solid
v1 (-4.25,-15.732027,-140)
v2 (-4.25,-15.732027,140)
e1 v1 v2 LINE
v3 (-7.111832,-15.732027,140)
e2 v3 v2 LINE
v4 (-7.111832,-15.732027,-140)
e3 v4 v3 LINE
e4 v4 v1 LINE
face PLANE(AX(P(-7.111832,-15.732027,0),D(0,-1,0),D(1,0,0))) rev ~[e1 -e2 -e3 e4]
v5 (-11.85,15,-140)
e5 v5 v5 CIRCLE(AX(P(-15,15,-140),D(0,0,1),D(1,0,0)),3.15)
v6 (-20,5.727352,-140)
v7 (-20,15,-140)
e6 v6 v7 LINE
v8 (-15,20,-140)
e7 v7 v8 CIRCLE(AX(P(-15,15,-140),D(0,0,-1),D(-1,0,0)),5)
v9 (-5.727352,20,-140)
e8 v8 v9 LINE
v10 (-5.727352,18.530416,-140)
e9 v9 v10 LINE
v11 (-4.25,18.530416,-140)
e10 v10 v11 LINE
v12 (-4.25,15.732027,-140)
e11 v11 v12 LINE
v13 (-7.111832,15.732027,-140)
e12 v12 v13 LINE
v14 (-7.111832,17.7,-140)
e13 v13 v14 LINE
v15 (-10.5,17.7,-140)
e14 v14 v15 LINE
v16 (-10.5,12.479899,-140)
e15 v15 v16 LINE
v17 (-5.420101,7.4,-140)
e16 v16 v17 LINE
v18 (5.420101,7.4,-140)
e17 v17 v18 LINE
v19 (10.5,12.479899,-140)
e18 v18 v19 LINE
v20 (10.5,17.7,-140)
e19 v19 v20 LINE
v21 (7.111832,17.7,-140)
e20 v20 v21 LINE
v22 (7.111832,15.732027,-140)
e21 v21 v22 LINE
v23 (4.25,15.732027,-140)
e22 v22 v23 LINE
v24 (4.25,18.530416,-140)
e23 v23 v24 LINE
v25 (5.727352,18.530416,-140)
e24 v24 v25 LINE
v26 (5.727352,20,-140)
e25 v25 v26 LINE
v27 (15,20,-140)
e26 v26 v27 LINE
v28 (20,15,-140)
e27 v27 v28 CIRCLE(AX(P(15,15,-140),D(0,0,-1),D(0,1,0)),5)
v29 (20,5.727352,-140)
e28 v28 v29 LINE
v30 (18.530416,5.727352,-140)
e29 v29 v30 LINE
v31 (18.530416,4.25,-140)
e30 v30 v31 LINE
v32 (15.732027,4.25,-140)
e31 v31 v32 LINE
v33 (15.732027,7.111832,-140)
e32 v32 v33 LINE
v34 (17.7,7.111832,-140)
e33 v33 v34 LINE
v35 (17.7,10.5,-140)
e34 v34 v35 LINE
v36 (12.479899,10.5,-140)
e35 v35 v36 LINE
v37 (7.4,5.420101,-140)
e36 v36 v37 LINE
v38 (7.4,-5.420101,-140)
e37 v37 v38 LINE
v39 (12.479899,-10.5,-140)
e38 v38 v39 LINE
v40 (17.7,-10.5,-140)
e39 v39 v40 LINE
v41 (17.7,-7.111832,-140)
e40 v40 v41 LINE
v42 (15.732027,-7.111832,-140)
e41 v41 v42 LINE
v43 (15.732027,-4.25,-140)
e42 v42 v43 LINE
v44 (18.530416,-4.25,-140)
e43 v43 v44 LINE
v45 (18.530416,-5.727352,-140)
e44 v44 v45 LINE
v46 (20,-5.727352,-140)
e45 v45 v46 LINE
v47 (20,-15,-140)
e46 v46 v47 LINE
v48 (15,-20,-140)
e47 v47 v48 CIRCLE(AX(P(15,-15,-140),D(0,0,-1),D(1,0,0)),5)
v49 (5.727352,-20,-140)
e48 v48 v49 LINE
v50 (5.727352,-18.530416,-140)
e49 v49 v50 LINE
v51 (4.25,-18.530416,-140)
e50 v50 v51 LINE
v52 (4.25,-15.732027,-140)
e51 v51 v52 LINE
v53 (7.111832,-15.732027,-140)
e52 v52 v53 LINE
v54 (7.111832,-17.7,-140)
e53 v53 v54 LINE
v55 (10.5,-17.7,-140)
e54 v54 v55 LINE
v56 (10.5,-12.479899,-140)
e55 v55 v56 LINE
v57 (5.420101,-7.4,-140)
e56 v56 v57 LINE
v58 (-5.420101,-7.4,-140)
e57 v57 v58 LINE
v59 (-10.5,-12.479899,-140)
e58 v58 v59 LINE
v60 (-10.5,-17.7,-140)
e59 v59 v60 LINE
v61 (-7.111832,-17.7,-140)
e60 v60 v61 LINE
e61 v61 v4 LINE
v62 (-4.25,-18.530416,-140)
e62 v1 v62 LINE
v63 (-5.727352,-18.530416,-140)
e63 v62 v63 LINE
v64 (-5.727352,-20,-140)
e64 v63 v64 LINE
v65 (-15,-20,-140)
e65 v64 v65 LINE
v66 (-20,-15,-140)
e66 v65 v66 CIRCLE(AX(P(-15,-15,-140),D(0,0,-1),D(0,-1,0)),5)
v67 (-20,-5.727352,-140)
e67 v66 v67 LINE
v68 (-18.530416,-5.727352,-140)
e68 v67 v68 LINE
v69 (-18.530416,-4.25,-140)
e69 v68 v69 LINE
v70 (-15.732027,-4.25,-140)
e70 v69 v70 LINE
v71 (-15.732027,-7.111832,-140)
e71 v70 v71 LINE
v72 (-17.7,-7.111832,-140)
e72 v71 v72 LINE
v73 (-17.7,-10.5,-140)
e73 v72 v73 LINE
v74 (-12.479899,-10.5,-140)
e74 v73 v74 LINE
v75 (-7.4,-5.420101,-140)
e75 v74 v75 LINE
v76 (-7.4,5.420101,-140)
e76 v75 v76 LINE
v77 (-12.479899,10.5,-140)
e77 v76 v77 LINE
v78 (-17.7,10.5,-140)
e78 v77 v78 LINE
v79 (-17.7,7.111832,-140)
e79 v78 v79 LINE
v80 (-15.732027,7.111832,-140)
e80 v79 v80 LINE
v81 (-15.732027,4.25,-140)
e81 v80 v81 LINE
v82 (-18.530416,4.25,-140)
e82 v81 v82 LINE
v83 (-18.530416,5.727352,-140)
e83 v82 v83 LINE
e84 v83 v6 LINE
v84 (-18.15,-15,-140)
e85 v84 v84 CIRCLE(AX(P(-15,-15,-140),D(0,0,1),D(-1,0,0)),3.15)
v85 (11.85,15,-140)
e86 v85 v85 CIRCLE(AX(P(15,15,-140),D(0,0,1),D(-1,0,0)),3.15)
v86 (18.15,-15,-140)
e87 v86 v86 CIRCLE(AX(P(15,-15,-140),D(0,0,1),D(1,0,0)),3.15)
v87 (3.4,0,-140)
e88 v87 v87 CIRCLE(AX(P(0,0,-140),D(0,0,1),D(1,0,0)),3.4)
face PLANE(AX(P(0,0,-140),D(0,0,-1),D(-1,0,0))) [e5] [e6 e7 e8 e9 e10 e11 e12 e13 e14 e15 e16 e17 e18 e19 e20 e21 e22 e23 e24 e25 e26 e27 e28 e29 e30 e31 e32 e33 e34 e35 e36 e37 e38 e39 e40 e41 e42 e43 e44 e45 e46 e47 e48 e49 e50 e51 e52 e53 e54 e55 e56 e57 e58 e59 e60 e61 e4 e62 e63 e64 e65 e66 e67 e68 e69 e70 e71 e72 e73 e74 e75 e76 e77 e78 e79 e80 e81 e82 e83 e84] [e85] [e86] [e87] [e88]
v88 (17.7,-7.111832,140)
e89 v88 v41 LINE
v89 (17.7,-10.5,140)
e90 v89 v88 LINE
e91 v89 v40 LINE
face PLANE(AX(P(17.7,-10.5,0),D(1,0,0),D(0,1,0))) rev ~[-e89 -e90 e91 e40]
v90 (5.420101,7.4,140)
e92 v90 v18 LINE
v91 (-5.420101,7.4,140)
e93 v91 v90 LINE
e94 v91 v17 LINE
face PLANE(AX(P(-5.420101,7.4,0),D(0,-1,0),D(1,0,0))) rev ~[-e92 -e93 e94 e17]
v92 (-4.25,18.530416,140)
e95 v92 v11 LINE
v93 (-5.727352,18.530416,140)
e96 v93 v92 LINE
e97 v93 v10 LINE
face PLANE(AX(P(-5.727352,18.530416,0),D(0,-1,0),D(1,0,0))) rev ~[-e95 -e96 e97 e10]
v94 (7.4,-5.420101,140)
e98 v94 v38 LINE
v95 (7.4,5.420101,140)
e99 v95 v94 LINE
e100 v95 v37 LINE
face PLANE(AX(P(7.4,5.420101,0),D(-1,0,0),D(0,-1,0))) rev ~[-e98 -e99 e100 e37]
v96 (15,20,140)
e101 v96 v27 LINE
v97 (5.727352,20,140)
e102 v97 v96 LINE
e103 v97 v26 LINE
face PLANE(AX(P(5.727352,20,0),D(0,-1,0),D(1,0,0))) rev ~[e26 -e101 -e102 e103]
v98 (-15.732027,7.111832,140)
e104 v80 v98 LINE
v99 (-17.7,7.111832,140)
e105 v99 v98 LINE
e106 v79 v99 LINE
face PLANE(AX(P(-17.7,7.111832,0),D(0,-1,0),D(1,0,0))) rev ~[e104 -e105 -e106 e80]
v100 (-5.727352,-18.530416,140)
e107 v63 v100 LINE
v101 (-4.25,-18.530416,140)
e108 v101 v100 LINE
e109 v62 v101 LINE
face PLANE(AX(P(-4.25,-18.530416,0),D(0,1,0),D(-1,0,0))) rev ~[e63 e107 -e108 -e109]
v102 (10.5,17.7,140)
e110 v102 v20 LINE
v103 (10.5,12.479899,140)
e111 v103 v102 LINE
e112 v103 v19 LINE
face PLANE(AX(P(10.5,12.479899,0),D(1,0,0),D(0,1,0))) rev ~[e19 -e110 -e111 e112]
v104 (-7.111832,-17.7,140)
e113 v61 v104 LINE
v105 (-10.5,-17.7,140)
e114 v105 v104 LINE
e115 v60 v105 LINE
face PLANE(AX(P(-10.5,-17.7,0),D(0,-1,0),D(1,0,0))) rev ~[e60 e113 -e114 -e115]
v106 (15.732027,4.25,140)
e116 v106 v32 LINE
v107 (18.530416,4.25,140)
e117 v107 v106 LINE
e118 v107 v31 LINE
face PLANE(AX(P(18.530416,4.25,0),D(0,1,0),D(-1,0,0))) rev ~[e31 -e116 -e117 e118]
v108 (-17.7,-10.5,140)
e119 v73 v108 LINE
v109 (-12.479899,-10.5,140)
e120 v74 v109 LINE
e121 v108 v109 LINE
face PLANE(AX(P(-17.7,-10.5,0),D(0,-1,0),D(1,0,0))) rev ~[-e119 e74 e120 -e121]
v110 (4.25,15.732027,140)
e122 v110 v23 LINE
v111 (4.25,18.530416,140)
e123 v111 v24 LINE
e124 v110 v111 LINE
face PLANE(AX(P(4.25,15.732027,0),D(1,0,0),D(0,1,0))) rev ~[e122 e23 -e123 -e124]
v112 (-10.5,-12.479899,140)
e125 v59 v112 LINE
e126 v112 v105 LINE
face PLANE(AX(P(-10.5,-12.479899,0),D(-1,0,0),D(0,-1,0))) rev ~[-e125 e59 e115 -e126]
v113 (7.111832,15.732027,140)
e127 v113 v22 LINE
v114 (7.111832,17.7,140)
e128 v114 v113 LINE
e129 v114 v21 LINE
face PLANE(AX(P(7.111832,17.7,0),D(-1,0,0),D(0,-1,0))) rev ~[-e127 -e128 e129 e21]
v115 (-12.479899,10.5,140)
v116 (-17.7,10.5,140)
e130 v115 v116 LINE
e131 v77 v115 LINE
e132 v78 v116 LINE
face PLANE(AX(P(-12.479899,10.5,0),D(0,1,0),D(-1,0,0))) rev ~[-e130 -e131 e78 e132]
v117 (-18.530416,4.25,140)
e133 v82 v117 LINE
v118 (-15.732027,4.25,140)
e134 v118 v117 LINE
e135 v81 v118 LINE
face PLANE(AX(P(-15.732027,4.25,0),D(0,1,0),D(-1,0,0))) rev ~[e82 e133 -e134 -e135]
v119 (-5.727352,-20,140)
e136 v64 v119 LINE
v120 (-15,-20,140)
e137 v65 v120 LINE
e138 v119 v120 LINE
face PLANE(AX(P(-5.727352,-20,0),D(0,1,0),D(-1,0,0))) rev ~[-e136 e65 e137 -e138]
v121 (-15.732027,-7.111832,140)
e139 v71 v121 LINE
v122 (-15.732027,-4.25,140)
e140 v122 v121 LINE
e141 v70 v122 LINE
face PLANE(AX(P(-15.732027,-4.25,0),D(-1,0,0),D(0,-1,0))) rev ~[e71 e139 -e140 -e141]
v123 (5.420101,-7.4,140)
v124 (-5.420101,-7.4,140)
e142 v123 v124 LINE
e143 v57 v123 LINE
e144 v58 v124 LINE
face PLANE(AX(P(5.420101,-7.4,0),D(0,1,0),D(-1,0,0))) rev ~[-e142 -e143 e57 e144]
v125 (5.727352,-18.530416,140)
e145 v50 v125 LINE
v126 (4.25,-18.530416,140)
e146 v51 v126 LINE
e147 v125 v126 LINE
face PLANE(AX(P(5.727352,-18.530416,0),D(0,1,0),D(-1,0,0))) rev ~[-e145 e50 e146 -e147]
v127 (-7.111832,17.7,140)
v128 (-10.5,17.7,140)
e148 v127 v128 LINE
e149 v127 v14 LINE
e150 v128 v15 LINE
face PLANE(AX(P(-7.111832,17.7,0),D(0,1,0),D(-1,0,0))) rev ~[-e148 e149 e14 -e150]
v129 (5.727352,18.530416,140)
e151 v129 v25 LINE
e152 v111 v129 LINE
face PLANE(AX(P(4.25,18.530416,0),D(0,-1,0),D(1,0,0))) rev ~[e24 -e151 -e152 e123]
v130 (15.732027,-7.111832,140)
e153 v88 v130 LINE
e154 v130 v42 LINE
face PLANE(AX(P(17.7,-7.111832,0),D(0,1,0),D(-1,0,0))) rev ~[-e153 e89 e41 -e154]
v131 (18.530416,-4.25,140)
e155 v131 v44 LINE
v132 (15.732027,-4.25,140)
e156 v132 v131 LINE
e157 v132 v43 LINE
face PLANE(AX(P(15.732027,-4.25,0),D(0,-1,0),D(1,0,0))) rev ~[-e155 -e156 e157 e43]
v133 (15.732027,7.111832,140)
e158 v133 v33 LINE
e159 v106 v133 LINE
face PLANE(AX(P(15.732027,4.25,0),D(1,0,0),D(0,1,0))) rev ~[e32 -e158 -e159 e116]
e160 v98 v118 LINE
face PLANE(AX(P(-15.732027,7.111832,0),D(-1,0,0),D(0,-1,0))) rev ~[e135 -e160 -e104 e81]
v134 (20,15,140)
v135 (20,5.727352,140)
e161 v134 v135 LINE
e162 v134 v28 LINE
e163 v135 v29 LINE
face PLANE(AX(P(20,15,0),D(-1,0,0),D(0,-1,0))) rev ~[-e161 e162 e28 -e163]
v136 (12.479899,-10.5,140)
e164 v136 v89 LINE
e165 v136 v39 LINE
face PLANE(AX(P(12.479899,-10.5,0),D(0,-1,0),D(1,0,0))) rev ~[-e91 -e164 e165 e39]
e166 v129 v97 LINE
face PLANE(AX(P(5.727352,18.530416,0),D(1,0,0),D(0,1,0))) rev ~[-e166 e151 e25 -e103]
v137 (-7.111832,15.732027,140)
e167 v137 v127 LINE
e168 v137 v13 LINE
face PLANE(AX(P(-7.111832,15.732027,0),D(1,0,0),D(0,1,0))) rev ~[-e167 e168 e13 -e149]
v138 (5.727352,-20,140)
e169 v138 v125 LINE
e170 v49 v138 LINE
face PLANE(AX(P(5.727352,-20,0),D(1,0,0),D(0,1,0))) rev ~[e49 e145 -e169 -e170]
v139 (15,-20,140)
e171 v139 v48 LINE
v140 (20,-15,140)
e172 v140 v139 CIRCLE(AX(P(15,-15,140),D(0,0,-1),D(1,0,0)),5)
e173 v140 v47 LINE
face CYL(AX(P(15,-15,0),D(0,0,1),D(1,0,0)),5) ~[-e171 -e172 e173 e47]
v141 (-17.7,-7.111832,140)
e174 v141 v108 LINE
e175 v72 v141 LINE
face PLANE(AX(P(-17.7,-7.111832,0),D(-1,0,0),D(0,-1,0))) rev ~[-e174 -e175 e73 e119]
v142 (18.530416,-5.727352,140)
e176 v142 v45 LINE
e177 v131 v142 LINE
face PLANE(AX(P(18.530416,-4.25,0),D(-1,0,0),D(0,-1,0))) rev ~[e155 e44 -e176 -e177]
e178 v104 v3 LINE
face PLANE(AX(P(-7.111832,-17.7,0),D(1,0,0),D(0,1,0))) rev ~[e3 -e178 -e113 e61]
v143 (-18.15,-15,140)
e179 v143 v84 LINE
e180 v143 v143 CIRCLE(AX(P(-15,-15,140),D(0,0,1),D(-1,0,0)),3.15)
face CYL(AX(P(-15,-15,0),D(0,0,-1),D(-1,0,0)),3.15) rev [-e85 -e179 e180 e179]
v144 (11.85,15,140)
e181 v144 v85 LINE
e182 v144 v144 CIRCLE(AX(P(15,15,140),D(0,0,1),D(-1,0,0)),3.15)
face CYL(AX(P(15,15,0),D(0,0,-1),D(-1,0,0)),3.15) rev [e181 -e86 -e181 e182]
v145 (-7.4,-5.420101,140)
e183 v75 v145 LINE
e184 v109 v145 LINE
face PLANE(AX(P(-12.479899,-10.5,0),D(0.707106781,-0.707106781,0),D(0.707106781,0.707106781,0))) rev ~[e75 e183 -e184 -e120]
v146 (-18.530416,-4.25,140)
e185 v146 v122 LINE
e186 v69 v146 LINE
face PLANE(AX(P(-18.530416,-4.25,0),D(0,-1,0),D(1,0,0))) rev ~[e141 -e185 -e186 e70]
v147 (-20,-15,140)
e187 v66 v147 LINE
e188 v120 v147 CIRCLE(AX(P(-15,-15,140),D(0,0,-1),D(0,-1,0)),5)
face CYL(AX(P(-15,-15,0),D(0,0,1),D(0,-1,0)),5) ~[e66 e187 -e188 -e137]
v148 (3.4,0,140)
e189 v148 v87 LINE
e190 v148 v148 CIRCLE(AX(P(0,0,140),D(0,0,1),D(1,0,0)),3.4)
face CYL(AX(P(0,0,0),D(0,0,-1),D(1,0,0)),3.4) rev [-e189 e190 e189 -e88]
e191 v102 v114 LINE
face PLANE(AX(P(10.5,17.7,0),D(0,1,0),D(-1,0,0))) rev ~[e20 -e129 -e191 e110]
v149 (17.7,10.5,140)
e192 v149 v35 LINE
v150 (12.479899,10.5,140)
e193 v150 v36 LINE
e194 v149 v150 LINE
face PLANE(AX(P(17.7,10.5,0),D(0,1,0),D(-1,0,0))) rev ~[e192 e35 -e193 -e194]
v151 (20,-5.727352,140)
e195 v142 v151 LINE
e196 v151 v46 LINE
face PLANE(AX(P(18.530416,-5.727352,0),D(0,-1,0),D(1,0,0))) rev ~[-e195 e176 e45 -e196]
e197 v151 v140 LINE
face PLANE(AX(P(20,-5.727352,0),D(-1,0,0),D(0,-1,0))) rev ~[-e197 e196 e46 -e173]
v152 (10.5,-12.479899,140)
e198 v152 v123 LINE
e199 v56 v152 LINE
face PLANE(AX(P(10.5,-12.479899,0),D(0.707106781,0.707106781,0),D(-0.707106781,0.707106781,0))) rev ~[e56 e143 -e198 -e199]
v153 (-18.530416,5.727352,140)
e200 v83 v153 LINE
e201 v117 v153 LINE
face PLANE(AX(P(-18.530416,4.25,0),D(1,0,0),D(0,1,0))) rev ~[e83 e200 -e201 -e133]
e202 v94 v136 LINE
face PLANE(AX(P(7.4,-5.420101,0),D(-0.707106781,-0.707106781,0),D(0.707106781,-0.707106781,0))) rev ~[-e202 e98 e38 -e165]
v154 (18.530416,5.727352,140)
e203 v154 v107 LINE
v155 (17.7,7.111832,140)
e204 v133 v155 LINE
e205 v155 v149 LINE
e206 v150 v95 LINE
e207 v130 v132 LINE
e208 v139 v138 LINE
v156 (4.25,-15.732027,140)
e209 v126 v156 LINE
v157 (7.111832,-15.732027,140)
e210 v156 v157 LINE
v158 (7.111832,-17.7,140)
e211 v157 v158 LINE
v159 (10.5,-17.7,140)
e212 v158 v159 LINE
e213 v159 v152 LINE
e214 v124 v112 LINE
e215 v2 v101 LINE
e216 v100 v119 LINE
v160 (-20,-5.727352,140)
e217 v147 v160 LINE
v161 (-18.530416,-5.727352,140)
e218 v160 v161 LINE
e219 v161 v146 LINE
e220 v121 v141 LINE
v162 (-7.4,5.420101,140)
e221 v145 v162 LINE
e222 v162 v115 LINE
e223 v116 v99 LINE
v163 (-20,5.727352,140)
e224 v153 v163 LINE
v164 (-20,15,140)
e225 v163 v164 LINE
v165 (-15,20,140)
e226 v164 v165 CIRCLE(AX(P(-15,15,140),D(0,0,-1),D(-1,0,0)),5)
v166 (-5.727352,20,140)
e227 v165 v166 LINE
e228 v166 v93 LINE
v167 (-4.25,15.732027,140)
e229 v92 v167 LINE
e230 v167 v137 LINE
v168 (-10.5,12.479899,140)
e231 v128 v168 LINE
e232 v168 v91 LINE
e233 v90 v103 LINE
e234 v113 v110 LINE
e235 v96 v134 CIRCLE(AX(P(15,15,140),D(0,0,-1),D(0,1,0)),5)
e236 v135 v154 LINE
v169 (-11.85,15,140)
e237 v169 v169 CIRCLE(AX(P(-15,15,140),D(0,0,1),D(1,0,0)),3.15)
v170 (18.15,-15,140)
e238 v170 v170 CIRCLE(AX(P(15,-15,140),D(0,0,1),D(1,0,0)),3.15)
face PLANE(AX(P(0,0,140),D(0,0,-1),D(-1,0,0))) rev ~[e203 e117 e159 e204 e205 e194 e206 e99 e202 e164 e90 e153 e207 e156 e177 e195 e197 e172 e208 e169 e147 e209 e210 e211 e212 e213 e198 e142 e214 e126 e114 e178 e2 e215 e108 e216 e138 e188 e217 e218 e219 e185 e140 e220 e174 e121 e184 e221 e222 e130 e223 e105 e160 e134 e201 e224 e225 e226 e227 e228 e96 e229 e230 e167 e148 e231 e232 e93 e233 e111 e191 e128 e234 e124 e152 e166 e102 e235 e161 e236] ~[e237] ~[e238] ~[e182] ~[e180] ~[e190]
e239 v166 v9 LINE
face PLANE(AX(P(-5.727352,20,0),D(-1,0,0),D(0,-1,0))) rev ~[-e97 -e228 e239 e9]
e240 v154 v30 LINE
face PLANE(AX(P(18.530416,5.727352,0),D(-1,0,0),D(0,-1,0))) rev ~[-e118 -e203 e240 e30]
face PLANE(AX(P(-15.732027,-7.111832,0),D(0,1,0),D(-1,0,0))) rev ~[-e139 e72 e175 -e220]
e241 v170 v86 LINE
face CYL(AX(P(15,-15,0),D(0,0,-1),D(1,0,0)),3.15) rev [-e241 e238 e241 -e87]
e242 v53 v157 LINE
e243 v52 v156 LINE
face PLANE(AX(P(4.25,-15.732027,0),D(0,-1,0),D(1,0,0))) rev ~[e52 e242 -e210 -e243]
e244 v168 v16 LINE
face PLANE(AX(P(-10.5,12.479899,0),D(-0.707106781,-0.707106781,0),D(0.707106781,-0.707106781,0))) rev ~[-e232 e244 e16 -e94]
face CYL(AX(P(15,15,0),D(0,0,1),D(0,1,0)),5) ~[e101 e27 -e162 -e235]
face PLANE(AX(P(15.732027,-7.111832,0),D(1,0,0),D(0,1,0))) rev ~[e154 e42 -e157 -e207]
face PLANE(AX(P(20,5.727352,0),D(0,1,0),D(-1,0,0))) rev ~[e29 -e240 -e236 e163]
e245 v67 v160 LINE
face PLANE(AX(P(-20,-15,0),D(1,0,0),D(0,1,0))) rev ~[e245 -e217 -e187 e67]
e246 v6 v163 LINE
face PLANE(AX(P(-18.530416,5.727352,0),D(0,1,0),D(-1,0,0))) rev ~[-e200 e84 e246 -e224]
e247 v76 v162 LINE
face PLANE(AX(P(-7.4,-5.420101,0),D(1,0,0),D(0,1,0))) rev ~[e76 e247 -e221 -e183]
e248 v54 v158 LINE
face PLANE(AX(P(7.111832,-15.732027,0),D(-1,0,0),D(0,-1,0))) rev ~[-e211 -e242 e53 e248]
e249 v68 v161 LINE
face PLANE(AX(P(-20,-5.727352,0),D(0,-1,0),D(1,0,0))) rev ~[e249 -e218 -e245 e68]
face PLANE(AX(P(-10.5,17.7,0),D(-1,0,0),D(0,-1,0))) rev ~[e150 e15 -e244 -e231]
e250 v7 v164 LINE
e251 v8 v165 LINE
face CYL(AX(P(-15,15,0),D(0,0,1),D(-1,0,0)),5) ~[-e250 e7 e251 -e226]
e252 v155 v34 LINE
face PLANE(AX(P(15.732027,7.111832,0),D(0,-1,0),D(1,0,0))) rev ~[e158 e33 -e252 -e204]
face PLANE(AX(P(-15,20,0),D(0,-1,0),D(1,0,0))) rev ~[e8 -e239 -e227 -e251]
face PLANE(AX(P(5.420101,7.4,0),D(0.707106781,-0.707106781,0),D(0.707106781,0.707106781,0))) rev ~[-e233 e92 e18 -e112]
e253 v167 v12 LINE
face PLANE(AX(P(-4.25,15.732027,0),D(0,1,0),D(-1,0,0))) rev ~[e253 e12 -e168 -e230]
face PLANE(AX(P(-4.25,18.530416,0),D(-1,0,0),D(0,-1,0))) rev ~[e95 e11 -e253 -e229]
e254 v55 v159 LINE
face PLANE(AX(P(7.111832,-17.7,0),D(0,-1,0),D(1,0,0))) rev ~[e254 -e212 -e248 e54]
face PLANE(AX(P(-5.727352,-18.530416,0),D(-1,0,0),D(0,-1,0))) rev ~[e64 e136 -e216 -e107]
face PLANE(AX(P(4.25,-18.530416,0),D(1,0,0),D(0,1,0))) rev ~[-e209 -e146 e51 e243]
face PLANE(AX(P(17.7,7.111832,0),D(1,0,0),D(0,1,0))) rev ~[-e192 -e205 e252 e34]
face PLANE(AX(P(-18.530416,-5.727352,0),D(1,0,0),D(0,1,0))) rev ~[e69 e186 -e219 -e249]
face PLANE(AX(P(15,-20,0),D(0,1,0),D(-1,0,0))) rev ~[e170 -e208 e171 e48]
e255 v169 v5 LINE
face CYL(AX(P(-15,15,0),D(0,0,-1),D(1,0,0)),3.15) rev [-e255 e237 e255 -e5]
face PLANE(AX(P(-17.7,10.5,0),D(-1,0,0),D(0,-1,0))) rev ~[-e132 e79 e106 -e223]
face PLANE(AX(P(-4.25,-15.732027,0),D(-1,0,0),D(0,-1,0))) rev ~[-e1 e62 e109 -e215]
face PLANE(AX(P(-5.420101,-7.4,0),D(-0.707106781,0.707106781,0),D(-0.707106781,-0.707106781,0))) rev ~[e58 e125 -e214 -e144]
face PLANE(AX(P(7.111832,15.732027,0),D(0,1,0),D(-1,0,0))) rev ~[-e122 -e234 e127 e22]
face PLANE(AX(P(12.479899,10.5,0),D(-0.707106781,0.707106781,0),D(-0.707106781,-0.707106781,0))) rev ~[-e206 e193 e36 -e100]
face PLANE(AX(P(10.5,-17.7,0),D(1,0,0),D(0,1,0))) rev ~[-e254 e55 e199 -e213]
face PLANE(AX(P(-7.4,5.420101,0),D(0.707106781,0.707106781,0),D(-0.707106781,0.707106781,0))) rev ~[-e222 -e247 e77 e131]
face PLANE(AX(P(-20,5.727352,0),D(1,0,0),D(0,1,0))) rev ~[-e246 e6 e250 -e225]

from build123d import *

# Parameters (mm, degrees)
SKETCH_1_R      = 3.4
SKETCH_1_R_2    = 3.15
EXTRUDE_1_DEPTH = 140


with BuildPart() as part:
    # Эскиз1 → Бобышка-Вытянуть1 (new, symmetric)
    with BuildSketch(Plane.XY):
        with BuildLine():
            Line((-15, 20), (-5.727351849, 20))
            Line((-5.727351849, 20), (-5.727351849, 18.530416438))
            Line((-5.727351849, 18.530416438), (-4.25, 18.530416438))
            Line((-4.25, 18.530416438), (-4.25, 15.732027397))
            Line((-4.25, 15.732027397), (-7.111831817, 15.732027397))
            Line((-7.111831817, 15.732027397), (-7.111831817, 17.7))
            Line((-7.111831817, 17.7), (-10.5, 17.7))
            Line((-10.5, 17.7), (-10.5, 12.479898987))
            Line((-10.5, 12.479898987), (-5.420101013, 7.4))
            Line((-5.420101013, 7.4), (5.420101013, 7.4))
            Line((5.420101013, 7.4), (10.5, 12.479898987))
            Line((10.5, 12.479898987), (10.5, 17.7))
            Line((10.5, 17.7), (7.111831817, 17.7))
            Line((7.111831817, 17.7), (7.111831817, 15.732027397))
            Line((7.111831817, 15.732027397), (4.25, 15.732027397))
            Line((4.25, 15.732027397), (4.25, 18.530416438))
            Line((4.25, 18.530416438), (5.727351849, 18.530416438))
            Line((5.727351849, 18.530416438), (5.727351849, 20))
            Line((5.727351849, 20), (15, 20))
            ThreePointArc((15, 20), (18.535533906, 18.535533906), (20, 15))
            Line((20, 15), (20, 5.727351849))
            Line((20, 5.727351849), (18.530416438, 5.727351849))
            Line((18.530416438, 5.727351849), (18.530416438, 4.25))
            Line((18.530416438, 4.25), (15.732027397, 4.25))
            Line((15.732027397, 4.25), (15.732027397, 7.111831817))
            Line((15.732027397, 7.111831817), (17.7, 7.111831817))
            Line((17.7, 7.111831817), (17.7, 10.5))
            Line((17.7, 10.5), (12.479898987, 10.5))
            Line((12.479898987, 10.5), (7.4, 5.420101013))
            Line((7.4, 5.420101013), (7.4, -5.420101013))
            Line((7.4, -5.420101013), (12.479898987, -10.5))
            Line((12.479898987, -10.5), (17.7, -10.5))
            Line((17.7, -10.5), (17.7, -7.111831817))
            Line((17.7, -7.111831817), (15.732027397, -7.111831817))
            Line((15.732027397, -7.111831817), (15.732027397, -4.25))
            Line((15.732027397, -4.25), (18.530416438, -4.25))
            Line((18.530416438, -4.25), (18.530416438, -5.727351849))
            Line((18.530416438, -5.727351849), (20, -5.727351849))
            Line((20, -5.727351849), (20, -15))
            ThreePointArc((20, -15), (18.535533906, -18.535533906), (15, -20))
            Line((15, -20), (5.727351849, -20))
            Line((5.727351849, -20), (5.727351849, -18.530416438))
            Line((5.727351849, -18.530416438), (4.25, -18.530416438))
            Line((4.25, -18.530416438), (4.25, -15.732027397))
            Line((4.25, -15.732027397), (7.111831817, -15.732027397))
            Line((7.111831817, -15.732027397), (7.111831817, -17.7))
            Line((7.111831817, -17.7), (10.5, -17.7))
            Line((10.5, -17.7), (10.5, -12.479898987))
            Line((10.5, -12.479898987), (5.420101013, -7.4))
            Line((5.420101013, -7.4), (-5.420101013, -7.4))
            Line((-5.420101013, -7.4), (-10.5, -12.479898987))
            Line((-10.5, -12.479898987), (-10.5, -17.7))
            Line((-10.5, -17.7), (-7.111831817, -17.7))
            Line((-7.111831817, -17.7), (-7.111831817, -15.732027397))
            Line((-7.111831817, -15.732027397), (-4.25, -15.732027397))
            Line((-4.25, -15.732027397), (-4.25, -18.530416438))
            Line((-4.25, -18.530416438), (-5.727351849, -18.530416438))
            Line((-5.727351849, -18.530416438), (-5.727351849, -20))
            Line((-5.727351849, -20), (-15, -20))
            ThreePointArc((-15, -20), (-18.535533906, -18.535533906), (-20, -15))
            Line((-20, -15), (-20, -5.727351849))
            Line((-20, -5.727351849), (-18.530416438, -5.727351849))
            Line((-18.530416438, -5.727351849), (-18.530416438, -4.25))
            Line((-18.530416438, -4.25), (-15.732027397, -4.25))
            Line((-15.732027397, -4.25), (-15.732027397, -7.111831817))
            Line((-15.732027397, -7.111831817), (-17.7, -7.111831817))
            Line((-17.7, -7.111831817), (-17.7, -10.5))
            Line((-17.7, -10.5), (-12.479898987, -10.5))
            Line((-12.479898987, -10.5), (-7.4, -5.420101013))
            Line((-7.4, -5.420101013), (-7.4, 5.420101013))
            Line((-7.4, 5.420101013), (-12.479898987, 10.5))
            Line((-12.479898987, 10.5), (-17.7, 10.5))
            Line((-17.7, 10.5), (-17.7, 7.111831817))
            Line((-17.7, 7.111831817), (-15.732027397, 7.111831817))
            Line((-15.732027397, 7.111831817), (-15.732027397, 4.25))
            Line((-15.732027397, 4.25), (-18.530416438, 4.25))
            Line((-18.530416438, 4.25), (-18.530416438, 5.727351849))
            Line((-18.530416438, 5.727351849), (-20, 5.727351849))
            Line((-20, 5.727351849), (-20, 15))
            ThreePointArc((-20, 15), (-18.535533906, 18.535533906), (-15, 20))
        make_face()
        Circle(SKETCH_1_R, mode=Mode.SUBTRACT)
        with Locations((-15, 15)):
            Circle(SKETCH_1_R_2, mode=Mode.SUBTRACT)
        with Locations((15, 15)):
            Circle(SKETCH_1_R_2, mode=Mode.SUBTRACT)
        with Locations((15, -15)):
            Circle(SKETCH_1_R_2, mode=Mode.SUBTRACT)
        with Locations((-15, -15)):
            Circle(SKETCH_1_R_2, mode=Mode.SUBTRACT)
    extrude(amount=EXTRUDE_1_DEPTH, both=True)


solid = part.part
